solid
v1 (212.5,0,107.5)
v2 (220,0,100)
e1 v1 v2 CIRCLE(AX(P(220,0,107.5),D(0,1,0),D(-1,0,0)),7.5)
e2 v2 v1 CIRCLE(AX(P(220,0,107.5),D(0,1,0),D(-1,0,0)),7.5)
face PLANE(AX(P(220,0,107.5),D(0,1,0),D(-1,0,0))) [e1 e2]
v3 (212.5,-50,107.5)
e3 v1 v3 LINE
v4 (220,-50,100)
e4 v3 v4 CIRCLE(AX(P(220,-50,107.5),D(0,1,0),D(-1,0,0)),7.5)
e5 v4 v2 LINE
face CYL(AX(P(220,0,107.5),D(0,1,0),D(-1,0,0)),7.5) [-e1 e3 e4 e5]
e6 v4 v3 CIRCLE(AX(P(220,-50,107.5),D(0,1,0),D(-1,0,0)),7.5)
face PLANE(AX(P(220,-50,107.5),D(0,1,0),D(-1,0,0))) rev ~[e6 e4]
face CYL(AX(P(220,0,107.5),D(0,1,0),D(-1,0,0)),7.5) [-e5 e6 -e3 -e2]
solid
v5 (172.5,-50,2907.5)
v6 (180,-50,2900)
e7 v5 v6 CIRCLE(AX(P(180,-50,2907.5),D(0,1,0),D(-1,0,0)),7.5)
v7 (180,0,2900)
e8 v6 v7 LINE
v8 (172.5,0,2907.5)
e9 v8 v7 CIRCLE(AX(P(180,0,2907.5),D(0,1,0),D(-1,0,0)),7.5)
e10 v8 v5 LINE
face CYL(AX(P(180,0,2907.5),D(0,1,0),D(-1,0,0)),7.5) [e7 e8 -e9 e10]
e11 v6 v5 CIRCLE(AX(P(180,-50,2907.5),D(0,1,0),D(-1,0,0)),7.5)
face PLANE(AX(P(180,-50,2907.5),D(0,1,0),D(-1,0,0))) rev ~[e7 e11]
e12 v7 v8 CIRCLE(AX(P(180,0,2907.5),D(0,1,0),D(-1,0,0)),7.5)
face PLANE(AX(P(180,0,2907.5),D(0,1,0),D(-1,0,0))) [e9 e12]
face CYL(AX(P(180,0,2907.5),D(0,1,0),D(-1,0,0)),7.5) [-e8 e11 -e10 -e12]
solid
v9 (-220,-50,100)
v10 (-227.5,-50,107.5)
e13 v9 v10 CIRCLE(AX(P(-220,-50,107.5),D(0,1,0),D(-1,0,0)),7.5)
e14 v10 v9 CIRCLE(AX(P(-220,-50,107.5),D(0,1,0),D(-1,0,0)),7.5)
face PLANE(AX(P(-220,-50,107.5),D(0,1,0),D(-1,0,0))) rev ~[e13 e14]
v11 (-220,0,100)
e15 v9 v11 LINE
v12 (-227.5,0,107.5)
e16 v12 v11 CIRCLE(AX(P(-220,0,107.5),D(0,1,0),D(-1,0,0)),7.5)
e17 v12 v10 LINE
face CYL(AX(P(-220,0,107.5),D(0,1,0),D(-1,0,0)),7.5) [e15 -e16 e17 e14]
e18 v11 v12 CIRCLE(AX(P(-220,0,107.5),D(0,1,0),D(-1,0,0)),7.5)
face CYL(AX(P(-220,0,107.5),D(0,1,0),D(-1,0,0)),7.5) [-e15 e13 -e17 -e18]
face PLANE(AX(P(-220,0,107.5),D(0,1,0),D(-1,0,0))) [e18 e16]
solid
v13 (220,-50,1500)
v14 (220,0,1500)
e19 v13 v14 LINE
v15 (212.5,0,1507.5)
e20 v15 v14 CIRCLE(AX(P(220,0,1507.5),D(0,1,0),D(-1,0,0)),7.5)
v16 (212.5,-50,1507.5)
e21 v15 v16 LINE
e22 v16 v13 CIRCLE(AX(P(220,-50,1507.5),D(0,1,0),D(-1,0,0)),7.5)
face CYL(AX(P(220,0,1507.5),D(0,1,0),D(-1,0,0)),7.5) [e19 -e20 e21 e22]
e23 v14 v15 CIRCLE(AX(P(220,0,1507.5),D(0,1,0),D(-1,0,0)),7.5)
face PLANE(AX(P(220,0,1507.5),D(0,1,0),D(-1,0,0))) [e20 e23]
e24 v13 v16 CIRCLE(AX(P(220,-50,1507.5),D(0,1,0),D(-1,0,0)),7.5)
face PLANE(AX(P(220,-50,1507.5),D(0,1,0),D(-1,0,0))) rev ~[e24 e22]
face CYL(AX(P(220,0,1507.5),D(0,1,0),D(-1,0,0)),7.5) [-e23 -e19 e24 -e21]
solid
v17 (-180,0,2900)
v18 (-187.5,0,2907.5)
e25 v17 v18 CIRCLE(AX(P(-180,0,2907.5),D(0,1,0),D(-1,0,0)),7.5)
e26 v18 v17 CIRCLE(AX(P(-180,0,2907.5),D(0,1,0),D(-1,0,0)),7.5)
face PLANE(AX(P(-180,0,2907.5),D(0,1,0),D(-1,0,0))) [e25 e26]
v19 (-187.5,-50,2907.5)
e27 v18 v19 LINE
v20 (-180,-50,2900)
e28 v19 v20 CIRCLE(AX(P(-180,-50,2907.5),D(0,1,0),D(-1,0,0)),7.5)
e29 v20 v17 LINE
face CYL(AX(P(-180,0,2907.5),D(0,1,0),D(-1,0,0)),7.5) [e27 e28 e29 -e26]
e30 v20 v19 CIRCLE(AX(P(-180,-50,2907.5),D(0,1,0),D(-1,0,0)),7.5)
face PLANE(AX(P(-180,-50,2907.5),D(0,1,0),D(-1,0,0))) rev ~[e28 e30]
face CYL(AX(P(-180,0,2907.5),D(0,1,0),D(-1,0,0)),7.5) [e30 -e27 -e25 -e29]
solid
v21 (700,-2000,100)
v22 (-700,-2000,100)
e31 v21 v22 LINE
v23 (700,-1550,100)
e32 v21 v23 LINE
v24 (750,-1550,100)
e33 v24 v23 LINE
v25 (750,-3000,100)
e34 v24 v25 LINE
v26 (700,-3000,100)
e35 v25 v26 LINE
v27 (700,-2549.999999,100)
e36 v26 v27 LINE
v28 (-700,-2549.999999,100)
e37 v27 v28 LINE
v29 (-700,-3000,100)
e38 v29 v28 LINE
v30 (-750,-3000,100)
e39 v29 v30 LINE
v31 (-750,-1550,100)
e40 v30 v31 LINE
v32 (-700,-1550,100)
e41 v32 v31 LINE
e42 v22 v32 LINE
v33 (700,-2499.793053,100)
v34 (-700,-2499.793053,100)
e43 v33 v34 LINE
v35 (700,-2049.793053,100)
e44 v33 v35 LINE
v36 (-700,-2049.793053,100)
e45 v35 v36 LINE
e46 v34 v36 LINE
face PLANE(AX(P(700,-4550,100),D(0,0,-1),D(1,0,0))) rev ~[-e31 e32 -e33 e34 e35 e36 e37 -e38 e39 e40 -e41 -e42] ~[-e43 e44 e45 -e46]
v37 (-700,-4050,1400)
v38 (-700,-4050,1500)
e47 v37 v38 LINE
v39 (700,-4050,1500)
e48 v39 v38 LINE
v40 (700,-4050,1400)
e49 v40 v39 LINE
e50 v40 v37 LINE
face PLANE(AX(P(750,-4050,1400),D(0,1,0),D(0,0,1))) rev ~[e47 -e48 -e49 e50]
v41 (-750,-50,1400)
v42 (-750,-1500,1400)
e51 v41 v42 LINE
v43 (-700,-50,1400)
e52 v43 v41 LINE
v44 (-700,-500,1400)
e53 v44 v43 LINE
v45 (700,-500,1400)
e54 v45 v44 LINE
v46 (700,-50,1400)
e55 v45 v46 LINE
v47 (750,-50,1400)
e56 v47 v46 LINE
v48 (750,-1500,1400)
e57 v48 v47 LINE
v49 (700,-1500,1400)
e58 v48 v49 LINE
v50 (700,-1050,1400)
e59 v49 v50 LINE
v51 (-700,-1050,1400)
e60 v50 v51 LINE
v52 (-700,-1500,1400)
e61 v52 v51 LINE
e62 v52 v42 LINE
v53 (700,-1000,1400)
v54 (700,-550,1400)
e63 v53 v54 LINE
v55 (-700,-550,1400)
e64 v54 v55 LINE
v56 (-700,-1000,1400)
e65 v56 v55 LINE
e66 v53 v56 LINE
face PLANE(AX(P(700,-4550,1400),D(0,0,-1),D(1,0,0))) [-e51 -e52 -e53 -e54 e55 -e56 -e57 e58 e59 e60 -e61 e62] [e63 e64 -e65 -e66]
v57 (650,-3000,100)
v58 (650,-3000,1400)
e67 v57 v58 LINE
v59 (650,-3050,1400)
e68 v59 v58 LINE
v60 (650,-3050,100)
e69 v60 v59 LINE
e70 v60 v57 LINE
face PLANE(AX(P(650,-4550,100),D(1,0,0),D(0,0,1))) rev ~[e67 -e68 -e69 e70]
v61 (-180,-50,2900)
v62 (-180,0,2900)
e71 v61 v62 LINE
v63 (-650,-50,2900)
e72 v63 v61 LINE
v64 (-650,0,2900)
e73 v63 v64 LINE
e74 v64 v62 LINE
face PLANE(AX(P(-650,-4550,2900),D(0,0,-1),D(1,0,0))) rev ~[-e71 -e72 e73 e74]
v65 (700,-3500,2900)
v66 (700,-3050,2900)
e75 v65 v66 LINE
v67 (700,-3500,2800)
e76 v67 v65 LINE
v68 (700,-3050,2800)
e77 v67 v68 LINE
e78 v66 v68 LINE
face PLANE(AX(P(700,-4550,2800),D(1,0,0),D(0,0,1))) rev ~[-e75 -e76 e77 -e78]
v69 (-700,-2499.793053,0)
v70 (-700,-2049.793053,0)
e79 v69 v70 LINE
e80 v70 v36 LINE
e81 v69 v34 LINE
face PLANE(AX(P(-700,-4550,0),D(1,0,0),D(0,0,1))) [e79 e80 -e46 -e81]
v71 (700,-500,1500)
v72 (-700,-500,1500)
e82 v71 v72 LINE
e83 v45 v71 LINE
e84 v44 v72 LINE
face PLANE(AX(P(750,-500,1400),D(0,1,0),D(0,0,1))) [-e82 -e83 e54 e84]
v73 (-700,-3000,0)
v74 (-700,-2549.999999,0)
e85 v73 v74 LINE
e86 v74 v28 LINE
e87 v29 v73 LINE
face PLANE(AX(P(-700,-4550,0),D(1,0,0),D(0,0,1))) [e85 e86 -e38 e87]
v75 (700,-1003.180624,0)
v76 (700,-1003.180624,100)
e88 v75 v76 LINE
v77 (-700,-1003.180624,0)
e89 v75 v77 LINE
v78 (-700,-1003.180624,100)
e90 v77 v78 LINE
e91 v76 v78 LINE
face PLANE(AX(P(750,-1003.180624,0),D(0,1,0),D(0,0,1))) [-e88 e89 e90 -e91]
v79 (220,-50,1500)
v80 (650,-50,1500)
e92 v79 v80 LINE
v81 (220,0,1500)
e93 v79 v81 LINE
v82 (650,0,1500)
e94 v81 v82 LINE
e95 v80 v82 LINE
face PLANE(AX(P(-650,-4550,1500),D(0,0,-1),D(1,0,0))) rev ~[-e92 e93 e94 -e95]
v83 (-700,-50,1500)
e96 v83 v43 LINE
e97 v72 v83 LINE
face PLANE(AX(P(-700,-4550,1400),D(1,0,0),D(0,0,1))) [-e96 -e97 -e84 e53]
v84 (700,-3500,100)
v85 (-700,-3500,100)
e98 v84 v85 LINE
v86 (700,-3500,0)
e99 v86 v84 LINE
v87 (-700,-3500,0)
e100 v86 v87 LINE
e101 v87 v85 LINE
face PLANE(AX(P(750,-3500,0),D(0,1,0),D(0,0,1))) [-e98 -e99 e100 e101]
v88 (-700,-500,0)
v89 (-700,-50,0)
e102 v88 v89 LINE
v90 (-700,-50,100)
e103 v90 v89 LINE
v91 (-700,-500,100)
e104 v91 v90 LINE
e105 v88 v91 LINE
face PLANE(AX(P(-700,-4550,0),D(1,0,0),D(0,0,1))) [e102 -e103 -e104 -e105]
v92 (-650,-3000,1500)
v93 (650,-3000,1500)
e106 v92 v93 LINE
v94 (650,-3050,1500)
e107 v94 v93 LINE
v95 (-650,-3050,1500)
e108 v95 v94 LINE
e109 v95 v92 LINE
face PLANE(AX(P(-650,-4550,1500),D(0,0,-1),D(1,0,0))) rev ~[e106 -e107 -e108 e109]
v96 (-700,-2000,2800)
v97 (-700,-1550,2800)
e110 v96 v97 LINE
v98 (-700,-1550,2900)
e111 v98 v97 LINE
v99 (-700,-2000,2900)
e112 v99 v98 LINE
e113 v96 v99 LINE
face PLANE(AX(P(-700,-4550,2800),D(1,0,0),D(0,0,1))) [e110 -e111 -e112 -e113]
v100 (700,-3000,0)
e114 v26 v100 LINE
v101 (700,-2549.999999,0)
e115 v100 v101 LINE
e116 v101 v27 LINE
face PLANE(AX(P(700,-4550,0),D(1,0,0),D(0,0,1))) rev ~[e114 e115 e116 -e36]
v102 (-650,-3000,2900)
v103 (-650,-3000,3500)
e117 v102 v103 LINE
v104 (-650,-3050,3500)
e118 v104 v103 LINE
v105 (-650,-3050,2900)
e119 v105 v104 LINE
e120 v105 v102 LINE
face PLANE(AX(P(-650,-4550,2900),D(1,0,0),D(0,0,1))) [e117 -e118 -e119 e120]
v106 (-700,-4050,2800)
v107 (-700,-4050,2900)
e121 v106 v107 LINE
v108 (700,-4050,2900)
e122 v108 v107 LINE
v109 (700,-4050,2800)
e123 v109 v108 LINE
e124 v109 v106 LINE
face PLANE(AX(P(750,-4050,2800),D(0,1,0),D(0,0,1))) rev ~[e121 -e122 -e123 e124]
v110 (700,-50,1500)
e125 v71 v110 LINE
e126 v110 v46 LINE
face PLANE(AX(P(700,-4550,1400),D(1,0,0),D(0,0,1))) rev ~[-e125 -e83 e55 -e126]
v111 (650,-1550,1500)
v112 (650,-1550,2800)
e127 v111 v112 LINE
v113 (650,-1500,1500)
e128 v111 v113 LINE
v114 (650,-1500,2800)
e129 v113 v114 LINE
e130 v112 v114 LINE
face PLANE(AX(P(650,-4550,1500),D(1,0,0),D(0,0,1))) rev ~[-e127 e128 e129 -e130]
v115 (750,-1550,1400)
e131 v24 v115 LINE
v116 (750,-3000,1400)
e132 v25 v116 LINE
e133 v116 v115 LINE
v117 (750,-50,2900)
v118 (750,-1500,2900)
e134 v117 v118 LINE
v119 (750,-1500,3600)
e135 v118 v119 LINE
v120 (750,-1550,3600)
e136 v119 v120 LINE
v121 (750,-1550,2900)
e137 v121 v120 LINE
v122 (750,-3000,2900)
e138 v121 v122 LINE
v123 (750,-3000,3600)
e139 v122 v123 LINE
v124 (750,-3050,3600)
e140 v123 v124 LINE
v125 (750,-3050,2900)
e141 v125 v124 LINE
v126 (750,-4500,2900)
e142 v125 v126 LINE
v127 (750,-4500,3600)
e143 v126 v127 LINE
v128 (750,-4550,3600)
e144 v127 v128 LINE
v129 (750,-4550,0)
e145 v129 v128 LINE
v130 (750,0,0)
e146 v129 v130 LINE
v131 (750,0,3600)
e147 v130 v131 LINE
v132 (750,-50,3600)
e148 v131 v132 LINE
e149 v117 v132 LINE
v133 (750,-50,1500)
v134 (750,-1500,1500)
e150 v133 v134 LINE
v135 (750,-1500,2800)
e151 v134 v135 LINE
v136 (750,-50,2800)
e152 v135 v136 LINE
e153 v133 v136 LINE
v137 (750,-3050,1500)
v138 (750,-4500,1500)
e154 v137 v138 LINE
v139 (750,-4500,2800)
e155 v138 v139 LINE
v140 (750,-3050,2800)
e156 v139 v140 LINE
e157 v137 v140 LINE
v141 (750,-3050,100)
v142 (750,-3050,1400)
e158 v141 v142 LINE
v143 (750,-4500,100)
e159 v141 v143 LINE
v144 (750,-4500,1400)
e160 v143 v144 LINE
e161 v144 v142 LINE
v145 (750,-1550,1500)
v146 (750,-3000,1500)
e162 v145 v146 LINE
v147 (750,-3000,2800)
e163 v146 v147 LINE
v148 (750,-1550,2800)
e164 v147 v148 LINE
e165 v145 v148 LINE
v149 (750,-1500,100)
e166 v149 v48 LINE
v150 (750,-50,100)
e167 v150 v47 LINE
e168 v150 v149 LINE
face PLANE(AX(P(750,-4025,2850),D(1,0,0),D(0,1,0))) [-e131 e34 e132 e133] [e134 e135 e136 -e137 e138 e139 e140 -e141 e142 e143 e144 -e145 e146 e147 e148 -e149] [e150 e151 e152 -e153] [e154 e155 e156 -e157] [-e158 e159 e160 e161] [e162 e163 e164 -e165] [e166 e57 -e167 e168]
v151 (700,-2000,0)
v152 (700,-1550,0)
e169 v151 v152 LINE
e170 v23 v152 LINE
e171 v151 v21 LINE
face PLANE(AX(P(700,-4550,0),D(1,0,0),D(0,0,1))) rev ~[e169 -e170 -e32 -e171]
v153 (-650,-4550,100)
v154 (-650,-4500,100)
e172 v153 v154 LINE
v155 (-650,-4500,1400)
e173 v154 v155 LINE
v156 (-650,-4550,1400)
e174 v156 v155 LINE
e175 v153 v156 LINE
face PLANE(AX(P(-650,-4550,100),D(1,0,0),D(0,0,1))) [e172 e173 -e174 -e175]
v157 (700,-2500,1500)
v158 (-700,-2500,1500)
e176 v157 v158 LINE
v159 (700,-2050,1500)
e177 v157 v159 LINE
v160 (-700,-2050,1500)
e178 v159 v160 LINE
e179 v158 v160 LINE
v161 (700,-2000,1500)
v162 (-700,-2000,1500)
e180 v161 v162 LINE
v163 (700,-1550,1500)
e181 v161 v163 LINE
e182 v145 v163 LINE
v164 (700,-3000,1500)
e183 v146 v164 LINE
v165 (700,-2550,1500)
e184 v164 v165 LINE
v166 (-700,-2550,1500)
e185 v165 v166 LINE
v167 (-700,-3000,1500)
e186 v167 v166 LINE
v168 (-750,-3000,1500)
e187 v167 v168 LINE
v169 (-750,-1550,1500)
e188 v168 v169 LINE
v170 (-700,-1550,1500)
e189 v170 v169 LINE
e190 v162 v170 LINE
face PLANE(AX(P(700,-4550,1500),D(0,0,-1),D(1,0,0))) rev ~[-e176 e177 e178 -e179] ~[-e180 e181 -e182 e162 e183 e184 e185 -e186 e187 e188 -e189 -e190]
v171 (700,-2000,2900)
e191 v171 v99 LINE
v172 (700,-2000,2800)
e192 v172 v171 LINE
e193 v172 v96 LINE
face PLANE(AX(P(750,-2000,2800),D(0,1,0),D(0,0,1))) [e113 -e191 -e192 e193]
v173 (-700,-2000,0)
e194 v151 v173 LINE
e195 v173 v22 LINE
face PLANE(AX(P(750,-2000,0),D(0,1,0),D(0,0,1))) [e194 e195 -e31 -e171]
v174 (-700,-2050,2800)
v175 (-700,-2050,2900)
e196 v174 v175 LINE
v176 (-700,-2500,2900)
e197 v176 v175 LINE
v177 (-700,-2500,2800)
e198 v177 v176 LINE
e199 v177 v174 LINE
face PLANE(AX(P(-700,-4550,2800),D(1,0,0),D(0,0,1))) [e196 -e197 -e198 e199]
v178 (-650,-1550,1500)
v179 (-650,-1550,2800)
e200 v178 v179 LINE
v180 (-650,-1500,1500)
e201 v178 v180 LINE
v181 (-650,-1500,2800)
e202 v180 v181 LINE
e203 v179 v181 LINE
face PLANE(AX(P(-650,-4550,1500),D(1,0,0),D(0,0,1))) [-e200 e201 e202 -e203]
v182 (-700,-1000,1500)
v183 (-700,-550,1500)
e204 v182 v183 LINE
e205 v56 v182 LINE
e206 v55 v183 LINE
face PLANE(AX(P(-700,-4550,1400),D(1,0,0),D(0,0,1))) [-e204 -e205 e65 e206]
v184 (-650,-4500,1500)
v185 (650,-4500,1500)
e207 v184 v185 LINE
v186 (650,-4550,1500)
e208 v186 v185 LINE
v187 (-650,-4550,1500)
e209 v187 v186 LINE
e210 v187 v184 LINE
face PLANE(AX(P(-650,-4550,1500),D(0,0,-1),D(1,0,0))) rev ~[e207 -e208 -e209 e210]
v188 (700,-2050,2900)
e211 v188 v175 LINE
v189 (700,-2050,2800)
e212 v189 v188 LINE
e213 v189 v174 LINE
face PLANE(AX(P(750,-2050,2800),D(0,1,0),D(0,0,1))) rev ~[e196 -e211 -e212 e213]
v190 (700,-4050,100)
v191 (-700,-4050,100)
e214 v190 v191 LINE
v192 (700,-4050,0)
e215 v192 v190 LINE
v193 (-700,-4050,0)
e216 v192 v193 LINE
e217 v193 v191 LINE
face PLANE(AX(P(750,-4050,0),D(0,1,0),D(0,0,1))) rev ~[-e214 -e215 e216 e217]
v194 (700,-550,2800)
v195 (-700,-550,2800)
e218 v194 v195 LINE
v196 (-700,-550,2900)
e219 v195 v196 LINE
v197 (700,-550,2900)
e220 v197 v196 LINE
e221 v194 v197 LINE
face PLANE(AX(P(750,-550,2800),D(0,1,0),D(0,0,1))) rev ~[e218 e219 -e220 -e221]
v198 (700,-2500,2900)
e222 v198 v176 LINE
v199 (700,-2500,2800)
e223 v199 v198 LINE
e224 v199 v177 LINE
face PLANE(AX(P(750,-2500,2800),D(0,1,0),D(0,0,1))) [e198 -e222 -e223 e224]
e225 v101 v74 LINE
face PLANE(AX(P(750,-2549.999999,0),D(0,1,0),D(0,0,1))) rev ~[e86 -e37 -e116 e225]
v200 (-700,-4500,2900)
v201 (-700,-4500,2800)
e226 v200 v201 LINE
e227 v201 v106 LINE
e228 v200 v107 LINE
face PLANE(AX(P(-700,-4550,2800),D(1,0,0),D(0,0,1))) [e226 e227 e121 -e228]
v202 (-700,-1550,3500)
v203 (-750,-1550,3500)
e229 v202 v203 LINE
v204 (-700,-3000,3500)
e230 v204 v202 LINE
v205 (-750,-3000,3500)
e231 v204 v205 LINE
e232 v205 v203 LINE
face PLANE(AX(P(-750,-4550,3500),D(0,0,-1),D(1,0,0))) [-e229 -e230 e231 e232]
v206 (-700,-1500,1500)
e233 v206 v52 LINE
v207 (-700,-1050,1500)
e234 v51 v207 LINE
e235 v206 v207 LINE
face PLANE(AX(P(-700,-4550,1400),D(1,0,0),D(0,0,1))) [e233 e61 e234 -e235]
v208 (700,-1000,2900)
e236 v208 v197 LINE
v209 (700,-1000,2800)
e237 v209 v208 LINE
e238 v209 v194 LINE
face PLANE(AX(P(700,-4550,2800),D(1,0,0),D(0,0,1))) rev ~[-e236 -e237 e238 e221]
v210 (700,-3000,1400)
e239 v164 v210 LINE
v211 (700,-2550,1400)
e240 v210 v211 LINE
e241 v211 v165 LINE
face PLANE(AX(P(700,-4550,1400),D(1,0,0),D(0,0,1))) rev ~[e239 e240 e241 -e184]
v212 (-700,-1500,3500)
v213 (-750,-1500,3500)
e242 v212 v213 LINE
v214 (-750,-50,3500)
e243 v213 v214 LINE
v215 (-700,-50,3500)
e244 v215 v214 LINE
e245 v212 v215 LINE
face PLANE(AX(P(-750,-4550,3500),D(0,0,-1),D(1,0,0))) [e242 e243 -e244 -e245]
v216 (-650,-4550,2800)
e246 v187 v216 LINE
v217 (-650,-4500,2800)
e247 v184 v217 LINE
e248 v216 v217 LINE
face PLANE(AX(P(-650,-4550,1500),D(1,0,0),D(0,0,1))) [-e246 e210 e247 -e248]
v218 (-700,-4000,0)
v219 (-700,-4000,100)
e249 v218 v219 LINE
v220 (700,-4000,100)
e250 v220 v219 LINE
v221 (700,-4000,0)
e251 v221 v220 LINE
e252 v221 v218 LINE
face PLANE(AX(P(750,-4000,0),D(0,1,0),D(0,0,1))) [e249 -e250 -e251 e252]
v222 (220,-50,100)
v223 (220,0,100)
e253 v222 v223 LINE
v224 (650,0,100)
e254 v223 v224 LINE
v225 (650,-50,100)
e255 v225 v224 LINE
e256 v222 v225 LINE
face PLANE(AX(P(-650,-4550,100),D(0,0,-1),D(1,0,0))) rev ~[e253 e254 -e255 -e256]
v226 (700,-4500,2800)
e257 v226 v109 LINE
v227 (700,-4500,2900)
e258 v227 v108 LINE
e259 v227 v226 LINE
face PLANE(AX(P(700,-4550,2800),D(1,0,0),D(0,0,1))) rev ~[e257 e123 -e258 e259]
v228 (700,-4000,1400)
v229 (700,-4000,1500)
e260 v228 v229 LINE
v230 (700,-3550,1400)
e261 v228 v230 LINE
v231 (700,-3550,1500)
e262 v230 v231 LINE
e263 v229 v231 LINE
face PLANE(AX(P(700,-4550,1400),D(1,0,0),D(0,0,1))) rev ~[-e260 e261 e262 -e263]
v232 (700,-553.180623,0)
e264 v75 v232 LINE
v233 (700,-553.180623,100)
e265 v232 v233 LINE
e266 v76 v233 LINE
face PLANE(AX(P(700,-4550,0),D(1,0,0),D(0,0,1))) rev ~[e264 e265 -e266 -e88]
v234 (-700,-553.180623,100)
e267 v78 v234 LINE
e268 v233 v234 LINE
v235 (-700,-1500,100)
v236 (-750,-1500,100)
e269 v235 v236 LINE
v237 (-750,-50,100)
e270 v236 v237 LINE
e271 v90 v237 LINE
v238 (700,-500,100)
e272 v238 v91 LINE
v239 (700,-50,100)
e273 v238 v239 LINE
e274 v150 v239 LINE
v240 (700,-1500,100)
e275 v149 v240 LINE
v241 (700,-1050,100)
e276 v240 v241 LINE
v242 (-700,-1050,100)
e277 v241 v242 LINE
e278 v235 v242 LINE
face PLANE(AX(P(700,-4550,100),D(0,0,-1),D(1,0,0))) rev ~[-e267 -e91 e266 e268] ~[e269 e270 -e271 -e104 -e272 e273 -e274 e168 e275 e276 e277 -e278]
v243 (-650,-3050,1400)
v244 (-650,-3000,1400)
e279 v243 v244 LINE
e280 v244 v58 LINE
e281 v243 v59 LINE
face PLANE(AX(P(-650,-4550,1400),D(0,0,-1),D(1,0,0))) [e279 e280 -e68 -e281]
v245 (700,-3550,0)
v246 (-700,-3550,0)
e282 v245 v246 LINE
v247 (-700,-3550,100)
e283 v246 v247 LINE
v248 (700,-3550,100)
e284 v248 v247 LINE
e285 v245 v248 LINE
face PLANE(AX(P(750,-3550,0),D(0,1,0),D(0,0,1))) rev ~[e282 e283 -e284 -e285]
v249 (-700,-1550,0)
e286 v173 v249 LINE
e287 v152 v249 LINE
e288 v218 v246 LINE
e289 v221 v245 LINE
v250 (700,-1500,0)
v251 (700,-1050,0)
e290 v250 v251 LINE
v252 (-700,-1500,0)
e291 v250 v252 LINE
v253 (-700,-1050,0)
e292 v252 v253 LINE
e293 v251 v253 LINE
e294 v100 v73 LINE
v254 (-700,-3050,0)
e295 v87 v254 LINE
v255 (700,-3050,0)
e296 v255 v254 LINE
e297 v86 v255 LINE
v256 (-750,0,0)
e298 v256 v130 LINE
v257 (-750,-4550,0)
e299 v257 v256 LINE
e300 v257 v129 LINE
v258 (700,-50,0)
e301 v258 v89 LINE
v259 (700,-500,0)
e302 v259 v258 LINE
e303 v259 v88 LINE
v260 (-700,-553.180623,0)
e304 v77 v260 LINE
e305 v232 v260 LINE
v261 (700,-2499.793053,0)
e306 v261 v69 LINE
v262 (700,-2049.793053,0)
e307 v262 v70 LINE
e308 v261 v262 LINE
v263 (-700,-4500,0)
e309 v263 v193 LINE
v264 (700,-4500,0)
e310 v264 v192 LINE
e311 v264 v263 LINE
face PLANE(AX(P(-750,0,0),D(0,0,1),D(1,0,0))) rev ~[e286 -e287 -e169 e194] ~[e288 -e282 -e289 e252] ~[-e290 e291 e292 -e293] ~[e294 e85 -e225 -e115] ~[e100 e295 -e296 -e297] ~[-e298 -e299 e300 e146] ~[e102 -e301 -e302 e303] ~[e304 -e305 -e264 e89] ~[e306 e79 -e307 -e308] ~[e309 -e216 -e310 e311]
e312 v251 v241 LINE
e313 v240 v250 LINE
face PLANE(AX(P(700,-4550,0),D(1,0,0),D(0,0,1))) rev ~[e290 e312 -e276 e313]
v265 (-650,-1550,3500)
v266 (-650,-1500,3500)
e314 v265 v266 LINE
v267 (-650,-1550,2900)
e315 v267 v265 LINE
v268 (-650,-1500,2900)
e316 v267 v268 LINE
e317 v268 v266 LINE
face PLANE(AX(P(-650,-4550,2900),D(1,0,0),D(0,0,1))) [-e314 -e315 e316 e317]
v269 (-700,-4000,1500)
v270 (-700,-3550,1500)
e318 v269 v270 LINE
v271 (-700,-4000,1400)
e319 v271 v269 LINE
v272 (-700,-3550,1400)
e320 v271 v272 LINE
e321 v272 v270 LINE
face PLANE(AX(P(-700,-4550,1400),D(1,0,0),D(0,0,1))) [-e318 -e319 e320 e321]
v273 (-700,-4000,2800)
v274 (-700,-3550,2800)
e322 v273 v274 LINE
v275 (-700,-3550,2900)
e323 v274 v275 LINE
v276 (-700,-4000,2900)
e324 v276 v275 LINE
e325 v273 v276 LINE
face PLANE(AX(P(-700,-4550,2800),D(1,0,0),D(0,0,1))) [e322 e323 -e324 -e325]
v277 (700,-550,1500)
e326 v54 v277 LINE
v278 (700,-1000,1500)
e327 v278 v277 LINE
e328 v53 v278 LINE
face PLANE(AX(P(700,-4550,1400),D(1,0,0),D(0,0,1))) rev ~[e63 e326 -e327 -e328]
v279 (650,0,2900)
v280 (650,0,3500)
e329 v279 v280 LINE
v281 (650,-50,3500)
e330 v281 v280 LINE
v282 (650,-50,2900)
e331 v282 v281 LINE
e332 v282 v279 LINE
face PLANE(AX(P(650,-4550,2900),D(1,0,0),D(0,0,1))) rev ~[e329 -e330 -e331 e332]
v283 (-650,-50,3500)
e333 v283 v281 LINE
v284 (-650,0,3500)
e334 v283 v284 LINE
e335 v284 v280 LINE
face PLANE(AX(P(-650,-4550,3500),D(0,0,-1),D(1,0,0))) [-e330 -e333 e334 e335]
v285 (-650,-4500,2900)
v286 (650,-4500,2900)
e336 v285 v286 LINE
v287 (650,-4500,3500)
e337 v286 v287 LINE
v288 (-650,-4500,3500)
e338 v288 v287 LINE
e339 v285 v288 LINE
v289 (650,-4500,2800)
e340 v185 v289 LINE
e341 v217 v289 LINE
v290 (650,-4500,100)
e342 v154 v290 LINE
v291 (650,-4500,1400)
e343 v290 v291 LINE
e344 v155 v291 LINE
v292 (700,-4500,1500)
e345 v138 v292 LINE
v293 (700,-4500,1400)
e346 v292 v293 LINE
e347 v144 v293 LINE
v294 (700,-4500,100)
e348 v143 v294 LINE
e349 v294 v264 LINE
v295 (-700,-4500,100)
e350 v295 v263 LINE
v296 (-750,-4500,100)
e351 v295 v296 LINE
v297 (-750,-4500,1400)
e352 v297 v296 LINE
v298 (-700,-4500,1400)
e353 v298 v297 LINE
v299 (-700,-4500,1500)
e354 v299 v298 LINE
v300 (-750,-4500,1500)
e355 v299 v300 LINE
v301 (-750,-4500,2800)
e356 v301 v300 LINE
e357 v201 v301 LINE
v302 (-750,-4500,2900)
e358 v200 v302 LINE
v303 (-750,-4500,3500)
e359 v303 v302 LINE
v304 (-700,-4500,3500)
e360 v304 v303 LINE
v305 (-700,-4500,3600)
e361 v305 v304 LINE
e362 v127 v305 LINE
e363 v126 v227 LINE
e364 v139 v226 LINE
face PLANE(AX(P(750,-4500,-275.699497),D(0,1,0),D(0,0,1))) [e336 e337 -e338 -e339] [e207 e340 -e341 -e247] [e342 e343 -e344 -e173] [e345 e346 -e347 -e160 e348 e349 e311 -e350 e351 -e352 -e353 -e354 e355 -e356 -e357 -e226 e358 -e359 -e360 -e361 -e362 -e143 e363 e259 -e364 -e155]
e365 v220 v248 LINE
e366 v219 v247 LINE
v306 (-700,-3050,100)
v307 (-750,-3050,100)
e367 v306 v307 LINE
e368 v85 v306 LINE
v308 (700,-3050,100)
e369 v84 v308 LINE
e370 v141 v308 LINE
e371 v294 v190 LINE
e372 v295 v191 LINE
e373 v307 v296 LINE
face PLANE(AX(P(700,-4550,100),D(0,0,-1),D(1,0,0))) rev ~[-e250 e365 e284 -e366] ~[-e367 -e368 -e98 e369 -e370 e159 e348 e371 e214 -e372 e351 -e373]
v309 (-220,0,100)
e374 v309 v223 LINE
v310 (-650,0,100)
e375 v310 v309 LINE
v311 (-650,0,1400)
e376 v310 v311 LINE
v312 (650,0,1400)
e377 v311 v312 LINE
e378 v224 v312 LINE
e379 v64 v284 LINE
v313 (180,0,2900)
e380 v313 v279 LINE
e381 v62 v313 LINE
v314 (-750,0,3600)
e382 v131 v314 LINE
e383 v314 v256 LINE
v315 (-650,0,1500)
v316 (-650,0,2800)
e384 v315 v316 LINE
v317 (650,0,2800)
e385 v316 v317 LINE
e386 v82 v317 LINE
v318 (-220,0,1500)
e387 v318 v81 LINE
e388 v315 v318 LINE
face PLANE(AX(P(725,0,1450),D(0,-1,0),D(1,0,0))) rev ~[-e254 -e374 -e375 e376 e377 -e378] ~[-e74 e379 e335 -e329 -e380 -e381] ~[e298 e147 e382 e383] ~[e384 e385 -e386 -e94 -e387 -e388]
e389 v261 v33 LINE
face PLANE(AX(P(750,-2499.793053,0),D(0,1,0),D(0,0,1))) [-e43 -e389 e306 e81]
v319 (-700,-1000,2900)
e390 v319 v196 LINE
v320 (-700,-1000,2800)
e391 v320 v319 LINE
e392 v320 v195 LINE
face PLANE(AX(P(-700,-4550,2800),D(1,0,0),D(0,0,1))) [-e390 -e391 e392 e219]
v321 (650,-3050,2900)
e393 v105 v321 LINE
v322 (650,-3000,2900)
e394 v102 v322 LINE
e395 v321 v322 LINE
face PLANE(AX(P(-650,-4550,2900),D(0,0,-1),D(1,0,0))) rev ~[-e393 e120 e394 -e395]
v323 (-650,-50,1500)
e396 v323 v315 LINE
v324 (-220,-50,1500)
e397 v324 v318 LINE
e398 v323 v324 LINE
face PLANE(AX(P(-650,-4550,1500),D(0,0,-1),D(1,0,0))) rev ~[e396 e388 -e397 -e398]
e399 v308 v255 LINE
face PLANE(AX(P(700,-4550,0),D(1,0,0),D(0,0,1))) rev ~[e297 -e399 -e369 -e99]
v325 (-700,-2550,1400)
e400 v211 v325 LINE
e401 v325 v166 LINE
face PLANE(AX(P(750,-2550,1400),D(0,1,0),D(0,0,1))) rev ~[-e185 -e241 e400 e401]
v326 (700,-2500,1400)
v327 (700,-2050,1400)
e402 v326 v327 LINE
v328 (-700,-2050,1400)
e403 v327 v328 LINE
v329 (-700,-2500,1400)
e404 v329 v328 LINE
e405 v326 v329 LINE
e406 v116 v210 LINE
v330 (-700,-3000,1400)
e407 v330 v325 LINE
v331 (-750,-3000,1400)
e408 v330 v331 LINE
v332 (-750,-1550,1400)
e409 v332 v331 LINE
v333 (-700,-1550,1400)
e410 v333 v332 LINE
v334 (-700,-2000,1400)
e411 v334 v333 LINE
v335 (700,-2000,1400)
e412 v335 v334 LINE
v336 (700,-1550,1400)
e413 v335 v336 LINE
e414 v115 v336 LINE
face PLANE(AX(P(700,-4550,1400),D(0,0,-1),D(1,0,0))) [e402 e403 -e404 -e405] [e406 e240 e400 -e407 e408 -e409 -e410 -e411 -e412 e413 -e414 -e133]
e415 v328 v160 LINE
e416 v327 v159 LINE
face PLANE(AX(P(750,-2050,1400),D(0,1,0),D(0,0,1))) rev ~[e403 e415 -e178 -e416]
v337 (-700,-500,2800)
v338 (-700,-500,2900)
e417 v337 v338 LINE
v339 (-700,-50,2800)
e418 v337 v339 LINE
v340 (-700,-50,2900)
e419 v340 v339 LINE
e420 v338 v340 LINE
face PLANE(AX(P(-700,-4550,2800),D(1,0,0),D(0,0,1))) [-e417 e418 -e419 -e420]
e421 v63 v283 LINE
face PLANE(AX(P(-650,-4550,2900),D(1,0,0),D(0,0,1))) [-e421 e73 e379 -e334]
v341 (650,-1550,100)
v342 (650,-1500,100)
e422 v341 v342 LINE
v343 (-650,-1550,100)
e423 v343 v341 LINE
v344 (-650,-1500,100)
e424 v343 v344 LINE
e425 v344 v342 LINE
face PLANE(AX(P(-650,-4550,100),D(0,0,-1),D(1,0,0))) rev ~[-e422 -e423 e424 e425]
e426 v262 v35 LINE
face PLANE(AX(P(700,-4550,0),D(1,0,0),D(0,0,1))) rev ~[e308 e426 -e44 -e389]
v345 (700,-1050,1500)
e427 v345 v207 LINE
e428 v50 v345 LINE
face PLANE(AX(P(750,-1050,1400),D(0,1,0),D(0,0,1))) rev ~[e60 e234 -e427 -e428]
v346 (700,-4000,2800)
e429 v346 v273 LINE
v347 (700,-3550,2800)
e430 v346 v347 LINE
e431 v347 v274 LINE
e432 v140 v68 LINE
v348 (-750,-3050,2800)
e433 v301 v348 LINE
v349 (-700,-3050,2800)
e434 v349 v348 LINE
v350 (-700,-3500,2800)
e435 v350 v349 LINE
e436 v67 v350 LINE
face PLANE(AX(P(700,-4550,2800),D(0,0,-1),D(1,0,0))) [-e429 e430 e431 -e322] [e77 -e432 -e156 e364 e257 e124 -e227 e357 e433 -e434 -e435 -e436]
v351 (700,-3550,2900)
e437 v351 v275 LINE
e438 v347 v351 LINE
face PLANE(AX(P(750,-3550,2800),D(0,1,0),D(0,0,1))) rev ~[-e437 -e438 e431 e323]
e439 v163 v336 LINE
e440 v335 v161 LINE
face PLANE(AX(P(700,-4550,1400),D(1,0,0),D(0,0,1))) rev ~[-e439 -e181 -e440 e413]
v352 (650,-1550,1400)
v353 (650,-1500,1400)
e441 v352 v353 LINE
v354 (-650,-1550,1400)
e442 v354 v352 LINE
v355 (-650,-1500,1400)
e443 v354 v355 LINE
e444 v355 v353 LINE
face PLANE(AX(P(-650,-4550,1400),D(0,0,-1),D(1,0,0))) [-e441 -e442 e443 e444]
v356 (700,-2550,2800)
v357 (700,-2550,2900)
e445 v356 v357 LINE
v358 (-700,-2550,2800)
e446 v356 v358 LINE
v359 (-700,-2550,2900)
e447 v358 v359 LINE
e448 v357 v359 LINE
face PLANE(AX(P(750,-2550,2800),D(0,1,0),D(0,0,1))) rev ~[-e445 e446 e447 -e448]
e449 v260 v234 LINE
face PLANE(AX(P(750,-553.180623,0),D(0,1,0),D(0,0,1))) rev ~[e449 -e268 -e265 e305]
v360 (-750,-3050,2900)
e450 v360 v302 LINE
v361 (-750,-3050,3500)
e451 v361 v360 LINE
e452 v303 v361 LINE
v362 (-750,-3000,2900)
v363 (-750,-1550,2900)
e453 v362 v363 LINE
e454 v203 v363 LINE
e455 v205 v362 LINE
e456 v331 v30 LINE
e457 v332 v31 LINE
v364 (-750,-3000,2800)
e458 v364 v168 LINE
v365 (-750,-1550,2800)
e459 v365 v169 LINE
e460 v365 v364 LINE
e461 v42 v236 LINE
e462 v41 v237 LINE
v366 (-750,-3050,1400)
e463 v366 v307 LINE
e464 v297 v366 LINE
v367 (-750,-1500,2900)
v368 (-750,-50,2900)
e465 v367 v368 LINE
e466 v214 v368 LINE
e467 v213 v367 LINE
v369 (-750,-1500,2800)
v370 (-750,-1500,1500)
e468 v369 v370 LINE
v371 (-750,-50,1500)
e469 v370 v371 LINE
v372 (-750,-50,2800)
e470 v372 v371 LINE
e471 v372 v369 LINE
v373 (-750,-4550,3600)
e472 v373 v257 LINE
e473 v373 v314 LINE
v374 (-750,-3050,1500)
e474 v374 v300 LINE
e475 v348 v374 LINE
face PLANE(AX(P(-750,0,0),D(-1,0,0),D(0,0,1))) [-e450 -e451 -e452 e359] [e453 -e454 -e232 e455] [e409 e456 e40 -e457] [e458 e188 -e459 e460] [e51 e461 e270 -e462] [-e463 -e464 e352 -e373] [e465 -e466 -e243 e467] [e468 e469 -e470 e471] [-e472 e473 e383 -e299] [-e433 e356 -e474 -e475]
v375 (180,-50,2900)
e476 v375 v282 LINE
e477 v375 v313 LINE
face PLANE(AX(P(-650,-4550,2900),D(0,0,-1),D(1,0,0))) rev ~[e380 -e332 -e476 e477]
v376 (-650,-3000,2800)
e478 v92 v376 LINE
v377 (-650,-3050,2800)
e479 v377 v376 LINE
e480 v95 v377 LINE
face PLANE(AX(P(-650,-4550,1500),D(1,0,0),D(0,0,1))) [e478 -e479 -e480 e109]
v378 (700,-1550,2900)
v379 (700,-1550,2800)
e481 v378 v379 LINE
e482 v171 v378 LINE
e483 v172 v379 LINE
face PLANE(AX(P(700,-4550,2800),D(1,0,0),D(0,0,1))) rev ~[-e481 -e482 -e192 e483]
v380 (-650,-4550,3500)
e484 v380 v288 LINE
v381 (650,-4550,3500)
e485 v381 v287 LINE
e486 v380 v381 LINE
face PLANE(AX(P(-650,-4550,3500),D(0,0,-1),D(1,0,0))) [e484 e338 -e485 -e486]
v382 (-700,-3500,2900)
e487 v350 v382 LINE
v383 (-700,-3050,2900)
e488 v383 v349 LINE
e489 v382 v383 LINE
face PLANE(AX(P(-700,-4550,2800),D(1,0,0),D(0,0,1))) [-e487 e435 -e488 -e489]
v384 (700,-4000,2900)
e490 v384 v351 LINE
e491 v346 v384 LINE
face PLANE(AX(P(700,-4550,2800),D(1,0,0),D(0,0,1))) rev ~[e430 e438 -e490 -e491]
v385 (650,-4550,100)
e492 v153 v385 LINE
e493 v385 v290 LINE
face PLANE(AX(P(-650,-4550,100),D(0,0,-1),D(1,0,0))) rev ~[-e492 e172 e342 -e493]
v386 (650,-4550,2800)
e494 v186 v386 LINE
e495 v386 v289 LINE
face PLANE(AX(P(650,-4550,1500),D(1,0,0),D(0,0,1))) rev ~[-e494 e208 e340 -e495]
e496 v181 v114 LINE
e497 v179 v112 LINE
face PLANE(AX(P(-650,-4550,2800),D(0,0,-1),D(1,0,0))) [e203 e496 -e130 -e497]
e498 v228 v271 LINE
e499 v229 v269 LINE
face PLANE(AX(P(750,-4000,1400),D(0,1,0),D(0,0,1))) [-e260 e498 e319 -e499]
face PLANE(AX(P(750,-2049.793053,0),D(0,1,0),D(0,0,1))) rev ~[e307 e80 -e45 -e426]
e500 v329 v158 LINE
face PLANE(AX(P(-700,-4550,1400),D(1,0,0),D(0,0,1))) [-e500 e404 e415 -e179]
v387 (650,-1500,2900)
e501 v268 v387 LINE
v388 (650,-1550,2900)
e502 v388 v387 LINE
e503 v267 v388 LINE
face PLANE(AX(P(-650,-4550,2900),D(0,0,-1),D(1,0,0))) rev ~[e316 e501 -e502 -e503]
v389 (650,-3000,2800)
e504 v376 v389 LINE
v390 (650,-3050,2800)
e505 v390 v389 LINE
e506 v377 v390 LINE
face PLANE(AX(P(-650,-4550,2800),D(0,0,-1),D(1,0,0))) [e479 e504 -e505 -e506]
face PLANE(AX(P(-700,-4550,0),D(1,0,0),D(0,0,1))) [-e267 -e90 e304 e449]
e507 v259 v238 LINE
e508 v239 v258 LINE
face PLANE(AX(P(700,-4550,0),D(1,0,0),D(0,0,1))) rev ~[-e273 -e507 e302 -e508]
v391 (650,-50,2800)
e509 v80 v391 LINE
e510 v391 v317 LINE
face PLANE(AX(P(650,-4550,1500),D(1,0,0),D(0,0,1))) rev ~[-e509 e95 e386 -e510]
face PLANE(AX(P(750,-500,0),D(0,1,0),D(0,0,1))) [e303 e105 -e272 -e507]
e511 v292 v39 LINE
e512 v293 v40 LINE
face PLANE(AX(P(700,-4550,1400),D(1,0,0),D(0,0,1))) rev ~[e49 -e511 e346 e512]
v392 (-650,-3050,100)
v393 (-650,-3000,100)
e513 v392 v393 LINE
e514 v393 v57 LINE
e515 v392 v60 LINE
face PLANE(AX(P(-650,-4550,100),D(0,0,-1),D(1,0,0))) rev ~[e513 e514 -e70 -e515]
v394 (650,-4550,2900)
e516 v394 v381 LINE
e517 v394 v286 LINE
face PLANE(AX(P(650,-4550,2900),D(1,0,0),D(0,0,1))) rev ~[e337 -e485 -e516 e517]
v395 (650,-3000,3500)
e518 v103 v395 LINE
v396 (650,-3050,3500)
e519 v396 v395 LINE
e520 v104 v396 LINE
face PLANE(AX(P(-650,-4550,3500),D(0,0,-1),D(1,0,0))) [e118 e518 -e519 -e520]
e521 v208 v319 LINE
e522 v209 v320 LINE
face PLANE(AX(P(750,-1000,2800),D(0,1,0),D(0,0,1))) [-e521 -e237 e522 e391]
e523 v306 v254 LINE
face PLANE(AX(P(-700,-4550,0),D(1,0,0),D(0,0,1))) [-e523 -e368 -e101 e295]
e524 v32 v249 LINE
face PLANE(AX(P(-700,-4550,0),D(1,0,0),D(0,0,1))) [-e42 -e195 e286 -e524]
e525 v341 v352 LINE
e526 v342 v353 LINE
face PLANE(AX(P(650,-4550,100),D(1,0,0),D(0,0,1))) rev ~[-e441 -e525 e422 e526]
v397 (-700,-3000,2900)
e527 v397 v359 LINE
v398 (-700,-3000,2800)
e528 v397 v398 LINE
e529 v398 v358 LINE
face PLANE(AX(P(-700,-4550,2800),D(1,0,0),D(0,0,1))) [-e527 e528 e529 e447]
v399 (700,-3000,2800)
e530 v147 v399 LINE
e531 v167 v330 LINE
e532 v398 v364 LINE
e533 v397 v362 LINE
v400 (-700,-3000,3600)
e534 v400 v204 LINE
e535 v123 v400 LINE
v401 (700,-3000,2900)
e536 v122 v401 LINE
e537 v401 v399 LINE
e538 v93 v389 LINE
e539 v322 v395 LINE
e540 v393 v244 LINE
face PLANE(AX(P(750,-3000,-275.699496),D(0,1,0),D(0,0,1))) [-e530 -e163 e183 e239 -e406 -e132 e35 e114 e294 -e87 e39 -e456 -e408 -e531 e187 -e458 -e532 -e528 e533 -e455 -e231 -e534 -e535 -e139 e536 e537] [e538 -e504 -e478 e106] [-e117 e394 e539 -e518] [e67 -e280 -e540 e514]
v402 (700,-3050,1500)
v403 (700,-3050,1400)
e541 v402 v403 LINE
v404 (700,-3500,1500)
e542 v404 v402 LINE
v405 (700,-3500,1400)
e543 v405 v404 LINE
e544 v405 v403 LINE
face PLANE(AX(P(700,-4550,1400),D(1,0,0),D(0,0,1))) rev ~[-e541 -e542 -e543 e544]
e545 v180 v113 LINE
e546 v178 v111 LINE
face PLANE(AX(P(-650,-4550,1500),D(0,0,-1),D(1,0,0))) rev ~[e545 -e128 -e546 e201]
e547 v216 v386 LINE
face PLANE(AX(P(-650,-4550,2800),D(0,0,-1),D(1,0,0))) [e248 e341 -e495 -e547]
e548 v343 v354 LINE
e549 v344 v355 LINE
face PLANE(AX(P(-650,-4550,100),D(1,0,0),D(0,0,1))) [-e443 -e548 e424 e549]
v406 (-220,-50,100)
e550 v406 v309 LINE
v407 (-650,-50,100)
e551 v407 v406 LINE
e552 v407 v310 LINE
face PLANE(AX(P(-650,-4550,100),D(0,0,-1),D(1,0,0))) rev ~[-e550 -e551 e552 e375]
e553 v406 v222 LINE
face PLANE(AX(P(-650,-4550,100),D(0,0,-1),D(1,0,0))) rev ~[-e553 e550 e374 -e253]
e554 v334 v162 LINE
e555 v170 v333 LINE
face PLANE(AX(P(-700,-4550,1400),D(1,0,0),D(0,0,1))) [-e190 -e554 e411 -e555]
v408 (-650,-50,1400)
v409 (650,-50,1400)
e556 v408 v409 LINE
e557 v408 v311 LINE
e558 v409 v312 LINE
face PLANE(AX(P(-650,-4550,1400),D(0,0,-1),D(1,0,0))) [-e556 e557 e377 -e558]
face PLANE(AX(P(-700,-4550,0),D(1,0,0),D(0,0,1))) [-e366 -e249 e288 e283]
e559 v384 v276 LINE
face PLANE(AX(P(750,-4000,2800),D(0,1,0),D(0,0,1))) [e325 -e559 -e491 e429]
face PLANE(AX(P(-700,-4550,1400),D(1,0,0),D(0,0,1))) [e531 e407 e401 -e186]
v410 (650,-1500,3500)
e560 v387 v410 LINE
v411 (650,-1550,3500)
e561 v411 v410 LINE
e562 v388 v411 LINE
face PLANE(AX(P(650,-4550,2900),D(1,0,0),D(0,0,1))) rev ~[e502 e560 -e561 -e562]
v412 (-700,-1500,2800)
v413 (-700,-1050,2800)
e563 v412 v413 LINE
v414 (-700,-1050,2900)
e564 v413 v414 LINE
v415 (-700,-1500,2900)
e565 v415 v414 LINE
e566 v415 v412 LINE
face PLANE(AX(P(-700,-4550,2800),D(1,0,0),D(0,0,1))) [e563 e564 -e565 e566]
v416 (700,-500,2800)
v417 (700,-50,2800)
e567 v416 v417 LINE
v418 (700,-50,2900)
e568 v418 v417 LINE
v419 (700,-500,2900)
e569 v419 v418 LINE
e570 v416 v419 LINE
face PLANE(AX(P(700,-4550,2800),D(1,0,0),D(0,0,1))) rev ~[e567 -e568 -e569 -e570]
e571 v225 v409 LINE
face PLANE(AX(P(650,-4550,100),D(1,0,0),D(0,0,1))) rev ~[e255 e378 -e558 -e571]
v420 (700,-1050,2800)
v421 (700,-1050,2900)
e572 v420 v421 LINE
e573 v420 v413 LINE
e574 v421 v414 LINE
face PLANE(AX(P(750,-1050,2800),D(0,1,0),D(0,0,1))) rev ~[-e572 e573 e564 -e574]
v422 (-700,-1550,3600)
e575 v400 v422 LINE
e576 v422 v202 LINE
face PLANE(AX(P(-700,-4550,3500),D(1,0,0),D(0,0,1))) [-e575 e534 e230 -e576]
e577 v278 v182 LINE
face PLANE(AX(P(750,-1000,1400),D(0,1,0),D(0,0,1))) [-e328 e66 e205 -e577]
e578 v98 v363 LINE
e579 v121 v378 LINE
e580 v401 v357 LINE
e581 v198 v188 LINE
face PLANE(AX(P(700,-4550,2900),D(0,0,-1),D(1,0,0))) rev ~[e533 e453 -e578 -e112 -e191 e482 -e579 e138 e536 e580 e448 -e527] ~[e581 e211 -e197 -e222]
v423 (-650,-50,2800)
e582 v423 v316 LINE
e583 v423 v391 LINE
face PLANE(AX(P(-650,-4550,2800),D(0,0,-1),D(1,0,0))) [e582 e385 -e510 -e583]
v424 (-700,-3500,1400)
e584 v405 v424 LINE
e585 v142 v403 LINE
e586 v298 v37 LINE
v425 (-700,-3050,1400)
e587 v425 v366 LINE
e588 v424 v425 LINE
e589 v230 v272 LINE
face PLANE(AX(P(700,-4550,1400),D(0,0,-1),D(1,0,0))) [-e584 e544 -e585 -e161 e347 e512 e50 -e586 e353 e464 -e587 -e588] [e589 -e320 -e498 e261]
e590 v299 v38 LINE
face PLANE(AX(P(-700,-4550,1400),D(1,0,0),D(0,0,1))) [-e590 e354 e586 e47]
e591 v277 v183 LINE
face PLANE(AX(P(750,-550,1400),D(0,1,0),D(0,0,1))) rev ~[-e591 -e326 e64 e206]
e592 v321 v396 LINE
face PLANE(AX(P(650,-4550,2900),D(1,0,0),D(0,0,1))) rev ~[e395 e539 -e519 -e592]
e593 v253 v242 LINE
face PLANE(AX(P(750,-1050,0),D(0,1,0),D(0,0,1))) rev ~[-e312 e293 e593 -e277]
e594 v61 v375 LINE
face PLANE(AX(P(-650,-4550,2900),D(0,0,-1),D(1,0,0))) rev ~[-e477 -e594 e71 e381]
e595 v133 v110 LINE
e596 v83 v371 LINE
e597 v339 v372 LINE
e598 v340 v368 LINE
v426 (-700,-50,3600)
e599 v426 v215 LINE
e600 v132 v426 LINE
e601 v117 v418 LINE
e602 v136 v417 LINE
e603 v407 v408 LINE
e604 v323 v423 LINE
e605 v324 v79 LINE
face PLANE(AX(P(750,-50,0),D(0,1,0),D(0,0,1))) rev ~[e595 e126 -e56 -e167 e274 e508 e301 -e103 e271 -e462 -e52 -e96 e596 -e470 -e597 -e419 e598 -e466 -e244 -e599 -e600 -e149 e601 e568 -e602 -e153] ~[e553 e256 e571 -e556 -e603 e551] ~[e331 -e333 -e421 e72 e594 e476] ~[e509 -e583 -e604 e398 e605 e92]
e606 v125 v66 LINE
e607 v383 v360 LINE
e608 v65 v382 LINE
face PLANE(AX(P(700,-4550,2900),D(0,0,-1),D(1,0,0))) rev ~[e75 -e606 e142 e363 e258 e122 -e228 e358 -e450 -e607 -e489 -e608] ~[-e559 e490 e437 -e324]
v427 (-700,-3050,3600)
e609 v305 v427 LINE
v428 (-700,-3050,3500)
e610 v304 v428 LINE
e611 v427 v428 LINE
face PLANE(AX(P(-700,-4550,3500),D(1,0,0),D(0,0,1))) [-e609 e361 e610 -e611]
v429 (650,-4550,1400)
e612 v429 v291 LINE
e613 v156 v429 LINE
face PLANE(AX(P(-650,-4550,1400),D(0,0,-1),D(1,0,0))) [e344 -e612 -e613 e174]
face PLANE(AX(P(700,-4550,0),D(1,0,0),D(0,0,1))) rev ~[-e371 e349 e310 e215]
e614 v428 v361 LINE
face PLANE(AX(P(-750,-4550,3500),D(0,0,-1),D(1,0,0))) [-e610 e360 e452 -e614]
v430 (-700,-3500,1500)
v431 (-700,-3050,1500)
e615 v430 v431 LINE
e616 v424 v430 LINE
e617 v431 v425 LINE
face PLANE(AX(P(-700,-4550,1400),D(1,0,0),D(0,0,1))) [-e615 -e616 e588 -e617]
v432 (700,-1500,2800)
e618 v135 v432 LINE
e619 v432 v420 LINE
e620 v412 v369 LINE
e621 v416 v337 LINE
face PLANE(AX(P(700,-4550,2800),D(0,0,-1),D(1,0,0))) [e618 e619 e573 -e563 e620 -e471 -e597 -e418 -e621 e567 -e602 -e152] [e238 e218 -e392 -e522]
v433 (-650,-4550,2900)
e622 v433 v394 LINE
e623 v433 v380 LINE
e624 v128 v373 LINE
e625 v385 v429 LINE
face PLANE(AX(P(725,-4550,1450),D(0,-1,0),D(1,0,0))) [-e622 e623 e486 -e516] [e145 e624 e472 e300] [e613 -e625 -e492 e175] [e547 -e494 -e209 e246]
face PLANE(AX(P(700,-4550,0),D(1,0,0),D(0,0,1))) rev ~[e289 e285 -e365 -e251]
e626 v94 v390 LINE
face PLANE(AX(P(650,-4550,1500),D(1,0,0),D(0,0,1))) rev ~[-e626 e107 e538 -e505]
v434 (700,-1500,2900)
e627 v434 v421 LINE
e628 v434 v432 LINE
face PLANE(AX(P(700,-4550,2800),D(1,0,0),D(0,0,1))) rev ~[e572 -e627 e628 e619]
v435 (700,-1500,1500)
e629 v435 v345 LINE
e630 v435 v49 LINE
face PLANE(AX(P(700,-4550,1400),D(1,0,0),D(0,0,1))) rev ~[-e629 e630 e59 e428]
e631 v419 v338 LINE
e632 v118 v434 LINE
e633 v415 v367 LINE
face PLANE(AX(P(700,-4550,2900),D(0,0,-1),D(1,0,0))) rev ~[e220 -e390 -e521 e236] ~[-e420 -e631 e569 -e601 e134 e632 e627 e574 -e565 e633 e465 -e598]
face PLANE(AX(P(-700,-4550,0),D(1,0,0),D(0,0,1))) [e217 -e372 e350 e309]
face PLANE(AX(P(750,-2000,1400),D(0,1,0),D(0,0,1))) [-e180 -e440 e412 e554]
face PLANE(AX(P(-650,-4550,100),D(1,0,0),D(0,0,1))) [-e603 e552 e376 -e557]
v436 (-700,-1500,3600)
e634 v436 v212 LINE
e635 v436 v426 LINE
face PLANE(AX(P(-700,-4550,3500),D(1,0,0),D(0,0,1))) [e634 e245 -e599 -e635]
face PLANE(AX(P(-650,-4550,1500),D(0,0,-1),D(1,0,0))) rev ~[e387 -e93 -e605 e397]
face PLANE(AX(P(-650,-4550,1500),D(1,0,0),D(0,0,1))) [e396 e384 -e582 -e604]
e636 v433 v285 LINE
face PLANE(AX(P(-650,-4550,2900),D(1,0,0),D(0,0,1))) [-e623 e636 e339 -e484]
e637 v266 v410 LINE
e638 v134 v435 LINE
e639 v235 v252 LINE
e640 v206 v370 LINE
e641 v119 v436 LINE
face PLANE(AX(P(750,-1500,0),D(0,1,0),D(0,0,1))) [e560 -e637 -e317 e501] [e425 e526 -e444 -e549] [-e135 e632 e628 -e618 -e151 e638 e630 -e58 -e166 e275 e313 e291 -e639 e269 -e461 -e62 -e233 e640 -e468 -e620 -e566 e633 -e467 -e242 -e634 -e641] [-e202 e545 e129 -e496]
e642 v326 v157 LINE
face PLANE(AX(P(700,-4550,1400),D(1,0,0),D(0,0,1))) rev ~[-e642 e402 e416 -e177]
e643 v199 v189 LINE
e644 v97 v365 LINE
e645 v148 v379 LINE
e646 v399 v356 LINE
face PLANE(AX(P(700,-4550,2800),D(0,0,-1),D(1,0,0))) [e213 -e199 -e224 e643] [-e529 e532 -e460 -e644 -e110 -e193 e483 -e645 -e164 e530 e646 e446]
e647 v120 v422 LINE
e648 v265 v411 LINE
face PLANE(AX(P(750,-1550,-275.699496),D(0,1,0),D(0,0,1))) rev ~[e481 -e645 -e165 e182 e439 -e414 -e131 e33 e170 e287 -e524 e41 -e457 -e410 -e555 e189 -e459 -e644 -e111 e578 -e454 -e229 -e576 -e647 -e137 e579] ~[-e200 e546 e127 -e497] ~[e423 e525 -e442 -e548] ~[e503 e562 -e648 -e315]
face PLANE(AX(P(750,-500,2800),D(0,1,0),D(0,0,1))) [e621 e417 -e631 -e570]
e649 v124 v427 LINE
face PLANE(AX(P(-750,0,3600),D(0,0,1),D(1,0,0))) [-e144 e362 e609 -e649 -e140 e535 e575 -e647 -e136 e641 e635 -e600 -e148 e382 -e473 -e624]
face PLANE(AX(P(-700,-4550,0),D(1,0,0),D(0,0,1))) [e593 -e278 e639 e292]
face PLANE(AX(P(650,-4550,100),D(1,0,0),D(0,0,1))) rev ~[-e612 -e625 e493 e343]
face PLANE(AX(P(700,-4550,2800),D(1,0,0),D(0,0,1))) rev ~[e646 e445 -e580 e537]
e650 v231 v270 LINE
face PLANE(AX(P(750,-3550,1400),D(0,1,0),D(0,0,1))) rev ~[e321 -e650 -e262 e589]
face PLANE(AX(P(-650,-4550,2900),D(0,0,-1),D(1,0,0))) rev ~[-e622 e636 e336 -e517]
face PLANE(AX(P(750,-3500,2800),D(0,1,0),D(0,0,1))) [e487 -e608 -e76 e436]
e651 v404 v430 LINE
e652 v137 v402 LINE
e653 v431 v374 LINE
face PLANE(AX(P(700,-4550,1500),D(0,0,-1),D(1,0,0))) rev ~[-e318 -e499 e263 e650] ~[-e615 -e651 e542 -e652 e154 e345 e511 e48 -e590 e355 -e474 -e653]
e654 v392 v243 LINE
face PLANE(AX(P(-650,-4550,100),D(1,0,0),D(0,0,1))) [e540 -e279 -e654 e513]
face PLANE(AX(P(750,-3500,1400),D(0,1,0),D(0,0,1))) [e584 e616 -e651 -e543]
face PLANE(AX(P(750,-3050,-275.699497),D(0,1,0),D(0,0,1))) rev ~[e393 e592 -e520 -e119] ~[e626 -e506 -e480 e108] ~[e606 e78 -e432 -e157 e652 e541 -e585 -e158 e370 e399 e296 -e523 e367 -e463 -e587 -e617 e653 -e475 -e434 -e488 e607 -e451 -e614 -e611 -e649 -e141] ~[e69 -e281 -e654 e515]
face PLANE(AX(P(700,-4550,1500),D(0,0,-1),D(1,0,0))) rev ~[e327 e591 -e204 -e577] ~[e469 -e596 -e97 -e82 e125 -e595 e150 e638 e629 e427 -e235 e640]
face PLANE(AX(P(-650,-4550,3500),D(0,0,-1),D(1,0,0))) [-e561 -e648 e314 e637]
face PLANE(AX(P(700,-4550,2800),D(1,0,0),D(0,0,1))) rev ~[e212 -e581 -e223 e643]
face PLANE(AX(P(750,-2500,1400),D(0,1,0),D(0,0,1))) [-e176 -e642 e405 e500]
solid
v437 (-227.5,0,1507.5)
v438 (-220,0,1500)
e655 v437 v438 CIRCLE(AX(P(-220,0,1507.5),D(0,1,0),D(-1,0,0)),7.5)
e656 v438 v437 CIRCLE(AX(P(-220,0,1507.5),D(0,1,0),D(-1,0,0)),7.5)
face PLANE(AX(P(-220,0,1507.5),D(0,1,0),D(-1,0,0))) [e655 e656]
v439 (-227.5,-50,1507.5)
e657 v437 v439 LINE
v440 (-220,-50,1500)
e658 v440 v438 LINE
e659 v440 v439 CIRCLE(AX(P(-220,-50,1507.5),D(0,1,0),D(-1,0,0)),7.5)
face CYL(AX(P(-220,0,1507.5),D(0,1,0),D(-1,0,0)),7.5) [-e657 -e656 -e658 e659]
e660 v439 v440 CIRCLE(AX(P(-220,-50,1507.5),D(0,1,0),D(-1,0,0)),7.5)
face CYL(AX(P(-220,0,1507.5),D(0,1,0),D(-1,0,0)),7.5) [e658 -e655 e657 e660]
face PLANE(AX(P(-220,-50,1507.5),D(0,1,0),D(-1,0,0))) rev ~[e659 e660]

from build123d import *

# Parameters (mm, degrees)
F1_W      = 1500
F1_H      = 3600
F2_DEPTH  = 4550
F3_W      = 1300
F3_H      = 1300
F3_H_2    = 600
F4_DEPTH  = 20000
F5_W      = 1450
F5_H      = 4000
F5_H_2    = 4290.098786
F5_H_3    = 4287.803769
F6_DEPTH  = 2000
F7_W      = 50
F7_H      = 100
F8_DEPTH  = 4550
F10_W     = 50
F10_H     = 100
F10_W_2   = 50.206947
F10_W_3   = 49.793053
F10_W_4   = 46.819377
F10_W_5   = 53.180623
F11_DEPTH = 1500
F9_R      = 7.5
F12_DEPTH = 50


with BuildPart() as f2:
    # F1 (on Front) → F2 (new body)
    with BuildSketch(Plane.XZ):
        with Locations((0, 1800)):
            Rectangle(F1_W, F1_H)
    extrude(amount=F2_DEPTH)

    # F3 (on face) → F4 (cut)
    with BuildSketch(Plane.XZ.offset(4550)):
        with Locations((0, 750)):
            Rectangle(F3_W, F3_H)
        with Locations((0, 2150)):
            Rectangle(F3_W, F3_H)
        with Locations((0, 3200)):
            Rectangle(F3_W, F3_H_2)
    extrude(amount=-F4_DEPTH, mode=Mode.SUBTRACT)

    # F5 (on face) → F6 (cut)
    with BuildSketch(Plane.YZ.offset(750)):
        with Locations((-775, 2000)):
            Rectangle(F5_W, F5_H)
        with Locations((-2275, 1869.349897)):
            Rectangle(F5_W, F5_H_2)
        with Locations((-3775, 1868.202388)):
            Rectangle(F5_W, F5_H_3)
    extrude(amount=-F6_DEPTH, mode=Mode.SUBTRACT)

    # F7 (on face) → F8 (join)
    with BuildSketch(Plane.XZ.offset(4550)):
        with Locations((725, 1450)):
            Rectangle(F7_W, F7_H)
        with Locations((-725, 3550)):
            Rectangle(F7_W, F7_H)
        with Locations((-725, 2850)):
            Rectangle(F7_W, F7_H)
        with Locations((-725, 1450)):
            Rectangle(F7_W, F7_H)
        with Locations((-725, 50)):
            Rectangle(F7_W, F7_H)
        with Locations((725, 50)):
            Rectangle(F7_W, F7_H)
        with Locations((725, 2850)):
            Rectangle(F7_W, F7_H)
    extrude(amount=-F8_DEPTH)

    # F10 (on face) → F11 (join)
    with BuildSketch(Plane.YZ.offset(750)):
        with Locations((-4025, 2850)):
            Rectangle(F10_W, F10_H)
        with Locations((-3525, 2850)):
            Rectangle(F10_W, F10_H)
        with Locations((-2525, 2850)):
            Rectangle(F10_W, F10_H)
        with Locations((-2025, 2850)):
            Rectangle(F10_W, F10_H)
        with Locations((-1025, 2850)):
            Rectangle(F10_W, F10_H)
        with Locations((-525, 2850)):
            Rectangle(F10_W, F10_H)
        with Locations((-4025, 1450)):
            Rectangle(F10_W, F10_H)
        with Locations((-3525, 1450)):
            Rectangle(F10_W, F10_H)
        with Locations((-2525, 1450)):
            Rectangle(F10_W, F10_H)
        with Locations((-2025, 1450)):
            Rectangle(F10_W, F10_H)
        with Locations((-1025, 1450)):
            Rectangle(F10_W, F10_H)
        with Locations((-525, 1450)):
            Rectangle(F10_W, F10_H)
        with Locations((-4025, 50)):
            Rectangle(F10_W, F10_H)
        with Locations((-3525, 50)):
            Rectangle(F10_W, F10_H)
        with Locations((-2524.896526, 50)):
            Rectangle(F10_W_2, F10_H)
        with Locations((-2024.896526, 50)):
            Rectangle(F10_W_3, F10_H)
        with Locations((-1026.590312, 50)):
            Rectangle(F10_W_4, F10_H)
        with Locations((-526.590311, 50)):
            Rectangle(F10_W_5, F10_H)
    extrude(amount=-F11_DEPTH)

    # F9 (on face) → F12 (join)
    with BuildSketch(Plane(origin=(0, 0, 0), x_dir=(-1, 0, 0), z_dir=(0, 1, 0))):
        with Locations((-180, 2907.5)):
            Circle(F9_R)
        with Locations((220, 1507.5)):
            Circle(F9_R)
        with Locations((-220, 1507.5)):
            Circle(F9_R)
        with Locations((220, 107.5)):
            Circle(F9_R)
        with Locations((-220, 107.5)):
            Circle(F9_R)
        with Locations((180, 2907.5)):
            Circle(F9_R)
    extrude(amount=-F12_DEPTH)


solid = f2.part
